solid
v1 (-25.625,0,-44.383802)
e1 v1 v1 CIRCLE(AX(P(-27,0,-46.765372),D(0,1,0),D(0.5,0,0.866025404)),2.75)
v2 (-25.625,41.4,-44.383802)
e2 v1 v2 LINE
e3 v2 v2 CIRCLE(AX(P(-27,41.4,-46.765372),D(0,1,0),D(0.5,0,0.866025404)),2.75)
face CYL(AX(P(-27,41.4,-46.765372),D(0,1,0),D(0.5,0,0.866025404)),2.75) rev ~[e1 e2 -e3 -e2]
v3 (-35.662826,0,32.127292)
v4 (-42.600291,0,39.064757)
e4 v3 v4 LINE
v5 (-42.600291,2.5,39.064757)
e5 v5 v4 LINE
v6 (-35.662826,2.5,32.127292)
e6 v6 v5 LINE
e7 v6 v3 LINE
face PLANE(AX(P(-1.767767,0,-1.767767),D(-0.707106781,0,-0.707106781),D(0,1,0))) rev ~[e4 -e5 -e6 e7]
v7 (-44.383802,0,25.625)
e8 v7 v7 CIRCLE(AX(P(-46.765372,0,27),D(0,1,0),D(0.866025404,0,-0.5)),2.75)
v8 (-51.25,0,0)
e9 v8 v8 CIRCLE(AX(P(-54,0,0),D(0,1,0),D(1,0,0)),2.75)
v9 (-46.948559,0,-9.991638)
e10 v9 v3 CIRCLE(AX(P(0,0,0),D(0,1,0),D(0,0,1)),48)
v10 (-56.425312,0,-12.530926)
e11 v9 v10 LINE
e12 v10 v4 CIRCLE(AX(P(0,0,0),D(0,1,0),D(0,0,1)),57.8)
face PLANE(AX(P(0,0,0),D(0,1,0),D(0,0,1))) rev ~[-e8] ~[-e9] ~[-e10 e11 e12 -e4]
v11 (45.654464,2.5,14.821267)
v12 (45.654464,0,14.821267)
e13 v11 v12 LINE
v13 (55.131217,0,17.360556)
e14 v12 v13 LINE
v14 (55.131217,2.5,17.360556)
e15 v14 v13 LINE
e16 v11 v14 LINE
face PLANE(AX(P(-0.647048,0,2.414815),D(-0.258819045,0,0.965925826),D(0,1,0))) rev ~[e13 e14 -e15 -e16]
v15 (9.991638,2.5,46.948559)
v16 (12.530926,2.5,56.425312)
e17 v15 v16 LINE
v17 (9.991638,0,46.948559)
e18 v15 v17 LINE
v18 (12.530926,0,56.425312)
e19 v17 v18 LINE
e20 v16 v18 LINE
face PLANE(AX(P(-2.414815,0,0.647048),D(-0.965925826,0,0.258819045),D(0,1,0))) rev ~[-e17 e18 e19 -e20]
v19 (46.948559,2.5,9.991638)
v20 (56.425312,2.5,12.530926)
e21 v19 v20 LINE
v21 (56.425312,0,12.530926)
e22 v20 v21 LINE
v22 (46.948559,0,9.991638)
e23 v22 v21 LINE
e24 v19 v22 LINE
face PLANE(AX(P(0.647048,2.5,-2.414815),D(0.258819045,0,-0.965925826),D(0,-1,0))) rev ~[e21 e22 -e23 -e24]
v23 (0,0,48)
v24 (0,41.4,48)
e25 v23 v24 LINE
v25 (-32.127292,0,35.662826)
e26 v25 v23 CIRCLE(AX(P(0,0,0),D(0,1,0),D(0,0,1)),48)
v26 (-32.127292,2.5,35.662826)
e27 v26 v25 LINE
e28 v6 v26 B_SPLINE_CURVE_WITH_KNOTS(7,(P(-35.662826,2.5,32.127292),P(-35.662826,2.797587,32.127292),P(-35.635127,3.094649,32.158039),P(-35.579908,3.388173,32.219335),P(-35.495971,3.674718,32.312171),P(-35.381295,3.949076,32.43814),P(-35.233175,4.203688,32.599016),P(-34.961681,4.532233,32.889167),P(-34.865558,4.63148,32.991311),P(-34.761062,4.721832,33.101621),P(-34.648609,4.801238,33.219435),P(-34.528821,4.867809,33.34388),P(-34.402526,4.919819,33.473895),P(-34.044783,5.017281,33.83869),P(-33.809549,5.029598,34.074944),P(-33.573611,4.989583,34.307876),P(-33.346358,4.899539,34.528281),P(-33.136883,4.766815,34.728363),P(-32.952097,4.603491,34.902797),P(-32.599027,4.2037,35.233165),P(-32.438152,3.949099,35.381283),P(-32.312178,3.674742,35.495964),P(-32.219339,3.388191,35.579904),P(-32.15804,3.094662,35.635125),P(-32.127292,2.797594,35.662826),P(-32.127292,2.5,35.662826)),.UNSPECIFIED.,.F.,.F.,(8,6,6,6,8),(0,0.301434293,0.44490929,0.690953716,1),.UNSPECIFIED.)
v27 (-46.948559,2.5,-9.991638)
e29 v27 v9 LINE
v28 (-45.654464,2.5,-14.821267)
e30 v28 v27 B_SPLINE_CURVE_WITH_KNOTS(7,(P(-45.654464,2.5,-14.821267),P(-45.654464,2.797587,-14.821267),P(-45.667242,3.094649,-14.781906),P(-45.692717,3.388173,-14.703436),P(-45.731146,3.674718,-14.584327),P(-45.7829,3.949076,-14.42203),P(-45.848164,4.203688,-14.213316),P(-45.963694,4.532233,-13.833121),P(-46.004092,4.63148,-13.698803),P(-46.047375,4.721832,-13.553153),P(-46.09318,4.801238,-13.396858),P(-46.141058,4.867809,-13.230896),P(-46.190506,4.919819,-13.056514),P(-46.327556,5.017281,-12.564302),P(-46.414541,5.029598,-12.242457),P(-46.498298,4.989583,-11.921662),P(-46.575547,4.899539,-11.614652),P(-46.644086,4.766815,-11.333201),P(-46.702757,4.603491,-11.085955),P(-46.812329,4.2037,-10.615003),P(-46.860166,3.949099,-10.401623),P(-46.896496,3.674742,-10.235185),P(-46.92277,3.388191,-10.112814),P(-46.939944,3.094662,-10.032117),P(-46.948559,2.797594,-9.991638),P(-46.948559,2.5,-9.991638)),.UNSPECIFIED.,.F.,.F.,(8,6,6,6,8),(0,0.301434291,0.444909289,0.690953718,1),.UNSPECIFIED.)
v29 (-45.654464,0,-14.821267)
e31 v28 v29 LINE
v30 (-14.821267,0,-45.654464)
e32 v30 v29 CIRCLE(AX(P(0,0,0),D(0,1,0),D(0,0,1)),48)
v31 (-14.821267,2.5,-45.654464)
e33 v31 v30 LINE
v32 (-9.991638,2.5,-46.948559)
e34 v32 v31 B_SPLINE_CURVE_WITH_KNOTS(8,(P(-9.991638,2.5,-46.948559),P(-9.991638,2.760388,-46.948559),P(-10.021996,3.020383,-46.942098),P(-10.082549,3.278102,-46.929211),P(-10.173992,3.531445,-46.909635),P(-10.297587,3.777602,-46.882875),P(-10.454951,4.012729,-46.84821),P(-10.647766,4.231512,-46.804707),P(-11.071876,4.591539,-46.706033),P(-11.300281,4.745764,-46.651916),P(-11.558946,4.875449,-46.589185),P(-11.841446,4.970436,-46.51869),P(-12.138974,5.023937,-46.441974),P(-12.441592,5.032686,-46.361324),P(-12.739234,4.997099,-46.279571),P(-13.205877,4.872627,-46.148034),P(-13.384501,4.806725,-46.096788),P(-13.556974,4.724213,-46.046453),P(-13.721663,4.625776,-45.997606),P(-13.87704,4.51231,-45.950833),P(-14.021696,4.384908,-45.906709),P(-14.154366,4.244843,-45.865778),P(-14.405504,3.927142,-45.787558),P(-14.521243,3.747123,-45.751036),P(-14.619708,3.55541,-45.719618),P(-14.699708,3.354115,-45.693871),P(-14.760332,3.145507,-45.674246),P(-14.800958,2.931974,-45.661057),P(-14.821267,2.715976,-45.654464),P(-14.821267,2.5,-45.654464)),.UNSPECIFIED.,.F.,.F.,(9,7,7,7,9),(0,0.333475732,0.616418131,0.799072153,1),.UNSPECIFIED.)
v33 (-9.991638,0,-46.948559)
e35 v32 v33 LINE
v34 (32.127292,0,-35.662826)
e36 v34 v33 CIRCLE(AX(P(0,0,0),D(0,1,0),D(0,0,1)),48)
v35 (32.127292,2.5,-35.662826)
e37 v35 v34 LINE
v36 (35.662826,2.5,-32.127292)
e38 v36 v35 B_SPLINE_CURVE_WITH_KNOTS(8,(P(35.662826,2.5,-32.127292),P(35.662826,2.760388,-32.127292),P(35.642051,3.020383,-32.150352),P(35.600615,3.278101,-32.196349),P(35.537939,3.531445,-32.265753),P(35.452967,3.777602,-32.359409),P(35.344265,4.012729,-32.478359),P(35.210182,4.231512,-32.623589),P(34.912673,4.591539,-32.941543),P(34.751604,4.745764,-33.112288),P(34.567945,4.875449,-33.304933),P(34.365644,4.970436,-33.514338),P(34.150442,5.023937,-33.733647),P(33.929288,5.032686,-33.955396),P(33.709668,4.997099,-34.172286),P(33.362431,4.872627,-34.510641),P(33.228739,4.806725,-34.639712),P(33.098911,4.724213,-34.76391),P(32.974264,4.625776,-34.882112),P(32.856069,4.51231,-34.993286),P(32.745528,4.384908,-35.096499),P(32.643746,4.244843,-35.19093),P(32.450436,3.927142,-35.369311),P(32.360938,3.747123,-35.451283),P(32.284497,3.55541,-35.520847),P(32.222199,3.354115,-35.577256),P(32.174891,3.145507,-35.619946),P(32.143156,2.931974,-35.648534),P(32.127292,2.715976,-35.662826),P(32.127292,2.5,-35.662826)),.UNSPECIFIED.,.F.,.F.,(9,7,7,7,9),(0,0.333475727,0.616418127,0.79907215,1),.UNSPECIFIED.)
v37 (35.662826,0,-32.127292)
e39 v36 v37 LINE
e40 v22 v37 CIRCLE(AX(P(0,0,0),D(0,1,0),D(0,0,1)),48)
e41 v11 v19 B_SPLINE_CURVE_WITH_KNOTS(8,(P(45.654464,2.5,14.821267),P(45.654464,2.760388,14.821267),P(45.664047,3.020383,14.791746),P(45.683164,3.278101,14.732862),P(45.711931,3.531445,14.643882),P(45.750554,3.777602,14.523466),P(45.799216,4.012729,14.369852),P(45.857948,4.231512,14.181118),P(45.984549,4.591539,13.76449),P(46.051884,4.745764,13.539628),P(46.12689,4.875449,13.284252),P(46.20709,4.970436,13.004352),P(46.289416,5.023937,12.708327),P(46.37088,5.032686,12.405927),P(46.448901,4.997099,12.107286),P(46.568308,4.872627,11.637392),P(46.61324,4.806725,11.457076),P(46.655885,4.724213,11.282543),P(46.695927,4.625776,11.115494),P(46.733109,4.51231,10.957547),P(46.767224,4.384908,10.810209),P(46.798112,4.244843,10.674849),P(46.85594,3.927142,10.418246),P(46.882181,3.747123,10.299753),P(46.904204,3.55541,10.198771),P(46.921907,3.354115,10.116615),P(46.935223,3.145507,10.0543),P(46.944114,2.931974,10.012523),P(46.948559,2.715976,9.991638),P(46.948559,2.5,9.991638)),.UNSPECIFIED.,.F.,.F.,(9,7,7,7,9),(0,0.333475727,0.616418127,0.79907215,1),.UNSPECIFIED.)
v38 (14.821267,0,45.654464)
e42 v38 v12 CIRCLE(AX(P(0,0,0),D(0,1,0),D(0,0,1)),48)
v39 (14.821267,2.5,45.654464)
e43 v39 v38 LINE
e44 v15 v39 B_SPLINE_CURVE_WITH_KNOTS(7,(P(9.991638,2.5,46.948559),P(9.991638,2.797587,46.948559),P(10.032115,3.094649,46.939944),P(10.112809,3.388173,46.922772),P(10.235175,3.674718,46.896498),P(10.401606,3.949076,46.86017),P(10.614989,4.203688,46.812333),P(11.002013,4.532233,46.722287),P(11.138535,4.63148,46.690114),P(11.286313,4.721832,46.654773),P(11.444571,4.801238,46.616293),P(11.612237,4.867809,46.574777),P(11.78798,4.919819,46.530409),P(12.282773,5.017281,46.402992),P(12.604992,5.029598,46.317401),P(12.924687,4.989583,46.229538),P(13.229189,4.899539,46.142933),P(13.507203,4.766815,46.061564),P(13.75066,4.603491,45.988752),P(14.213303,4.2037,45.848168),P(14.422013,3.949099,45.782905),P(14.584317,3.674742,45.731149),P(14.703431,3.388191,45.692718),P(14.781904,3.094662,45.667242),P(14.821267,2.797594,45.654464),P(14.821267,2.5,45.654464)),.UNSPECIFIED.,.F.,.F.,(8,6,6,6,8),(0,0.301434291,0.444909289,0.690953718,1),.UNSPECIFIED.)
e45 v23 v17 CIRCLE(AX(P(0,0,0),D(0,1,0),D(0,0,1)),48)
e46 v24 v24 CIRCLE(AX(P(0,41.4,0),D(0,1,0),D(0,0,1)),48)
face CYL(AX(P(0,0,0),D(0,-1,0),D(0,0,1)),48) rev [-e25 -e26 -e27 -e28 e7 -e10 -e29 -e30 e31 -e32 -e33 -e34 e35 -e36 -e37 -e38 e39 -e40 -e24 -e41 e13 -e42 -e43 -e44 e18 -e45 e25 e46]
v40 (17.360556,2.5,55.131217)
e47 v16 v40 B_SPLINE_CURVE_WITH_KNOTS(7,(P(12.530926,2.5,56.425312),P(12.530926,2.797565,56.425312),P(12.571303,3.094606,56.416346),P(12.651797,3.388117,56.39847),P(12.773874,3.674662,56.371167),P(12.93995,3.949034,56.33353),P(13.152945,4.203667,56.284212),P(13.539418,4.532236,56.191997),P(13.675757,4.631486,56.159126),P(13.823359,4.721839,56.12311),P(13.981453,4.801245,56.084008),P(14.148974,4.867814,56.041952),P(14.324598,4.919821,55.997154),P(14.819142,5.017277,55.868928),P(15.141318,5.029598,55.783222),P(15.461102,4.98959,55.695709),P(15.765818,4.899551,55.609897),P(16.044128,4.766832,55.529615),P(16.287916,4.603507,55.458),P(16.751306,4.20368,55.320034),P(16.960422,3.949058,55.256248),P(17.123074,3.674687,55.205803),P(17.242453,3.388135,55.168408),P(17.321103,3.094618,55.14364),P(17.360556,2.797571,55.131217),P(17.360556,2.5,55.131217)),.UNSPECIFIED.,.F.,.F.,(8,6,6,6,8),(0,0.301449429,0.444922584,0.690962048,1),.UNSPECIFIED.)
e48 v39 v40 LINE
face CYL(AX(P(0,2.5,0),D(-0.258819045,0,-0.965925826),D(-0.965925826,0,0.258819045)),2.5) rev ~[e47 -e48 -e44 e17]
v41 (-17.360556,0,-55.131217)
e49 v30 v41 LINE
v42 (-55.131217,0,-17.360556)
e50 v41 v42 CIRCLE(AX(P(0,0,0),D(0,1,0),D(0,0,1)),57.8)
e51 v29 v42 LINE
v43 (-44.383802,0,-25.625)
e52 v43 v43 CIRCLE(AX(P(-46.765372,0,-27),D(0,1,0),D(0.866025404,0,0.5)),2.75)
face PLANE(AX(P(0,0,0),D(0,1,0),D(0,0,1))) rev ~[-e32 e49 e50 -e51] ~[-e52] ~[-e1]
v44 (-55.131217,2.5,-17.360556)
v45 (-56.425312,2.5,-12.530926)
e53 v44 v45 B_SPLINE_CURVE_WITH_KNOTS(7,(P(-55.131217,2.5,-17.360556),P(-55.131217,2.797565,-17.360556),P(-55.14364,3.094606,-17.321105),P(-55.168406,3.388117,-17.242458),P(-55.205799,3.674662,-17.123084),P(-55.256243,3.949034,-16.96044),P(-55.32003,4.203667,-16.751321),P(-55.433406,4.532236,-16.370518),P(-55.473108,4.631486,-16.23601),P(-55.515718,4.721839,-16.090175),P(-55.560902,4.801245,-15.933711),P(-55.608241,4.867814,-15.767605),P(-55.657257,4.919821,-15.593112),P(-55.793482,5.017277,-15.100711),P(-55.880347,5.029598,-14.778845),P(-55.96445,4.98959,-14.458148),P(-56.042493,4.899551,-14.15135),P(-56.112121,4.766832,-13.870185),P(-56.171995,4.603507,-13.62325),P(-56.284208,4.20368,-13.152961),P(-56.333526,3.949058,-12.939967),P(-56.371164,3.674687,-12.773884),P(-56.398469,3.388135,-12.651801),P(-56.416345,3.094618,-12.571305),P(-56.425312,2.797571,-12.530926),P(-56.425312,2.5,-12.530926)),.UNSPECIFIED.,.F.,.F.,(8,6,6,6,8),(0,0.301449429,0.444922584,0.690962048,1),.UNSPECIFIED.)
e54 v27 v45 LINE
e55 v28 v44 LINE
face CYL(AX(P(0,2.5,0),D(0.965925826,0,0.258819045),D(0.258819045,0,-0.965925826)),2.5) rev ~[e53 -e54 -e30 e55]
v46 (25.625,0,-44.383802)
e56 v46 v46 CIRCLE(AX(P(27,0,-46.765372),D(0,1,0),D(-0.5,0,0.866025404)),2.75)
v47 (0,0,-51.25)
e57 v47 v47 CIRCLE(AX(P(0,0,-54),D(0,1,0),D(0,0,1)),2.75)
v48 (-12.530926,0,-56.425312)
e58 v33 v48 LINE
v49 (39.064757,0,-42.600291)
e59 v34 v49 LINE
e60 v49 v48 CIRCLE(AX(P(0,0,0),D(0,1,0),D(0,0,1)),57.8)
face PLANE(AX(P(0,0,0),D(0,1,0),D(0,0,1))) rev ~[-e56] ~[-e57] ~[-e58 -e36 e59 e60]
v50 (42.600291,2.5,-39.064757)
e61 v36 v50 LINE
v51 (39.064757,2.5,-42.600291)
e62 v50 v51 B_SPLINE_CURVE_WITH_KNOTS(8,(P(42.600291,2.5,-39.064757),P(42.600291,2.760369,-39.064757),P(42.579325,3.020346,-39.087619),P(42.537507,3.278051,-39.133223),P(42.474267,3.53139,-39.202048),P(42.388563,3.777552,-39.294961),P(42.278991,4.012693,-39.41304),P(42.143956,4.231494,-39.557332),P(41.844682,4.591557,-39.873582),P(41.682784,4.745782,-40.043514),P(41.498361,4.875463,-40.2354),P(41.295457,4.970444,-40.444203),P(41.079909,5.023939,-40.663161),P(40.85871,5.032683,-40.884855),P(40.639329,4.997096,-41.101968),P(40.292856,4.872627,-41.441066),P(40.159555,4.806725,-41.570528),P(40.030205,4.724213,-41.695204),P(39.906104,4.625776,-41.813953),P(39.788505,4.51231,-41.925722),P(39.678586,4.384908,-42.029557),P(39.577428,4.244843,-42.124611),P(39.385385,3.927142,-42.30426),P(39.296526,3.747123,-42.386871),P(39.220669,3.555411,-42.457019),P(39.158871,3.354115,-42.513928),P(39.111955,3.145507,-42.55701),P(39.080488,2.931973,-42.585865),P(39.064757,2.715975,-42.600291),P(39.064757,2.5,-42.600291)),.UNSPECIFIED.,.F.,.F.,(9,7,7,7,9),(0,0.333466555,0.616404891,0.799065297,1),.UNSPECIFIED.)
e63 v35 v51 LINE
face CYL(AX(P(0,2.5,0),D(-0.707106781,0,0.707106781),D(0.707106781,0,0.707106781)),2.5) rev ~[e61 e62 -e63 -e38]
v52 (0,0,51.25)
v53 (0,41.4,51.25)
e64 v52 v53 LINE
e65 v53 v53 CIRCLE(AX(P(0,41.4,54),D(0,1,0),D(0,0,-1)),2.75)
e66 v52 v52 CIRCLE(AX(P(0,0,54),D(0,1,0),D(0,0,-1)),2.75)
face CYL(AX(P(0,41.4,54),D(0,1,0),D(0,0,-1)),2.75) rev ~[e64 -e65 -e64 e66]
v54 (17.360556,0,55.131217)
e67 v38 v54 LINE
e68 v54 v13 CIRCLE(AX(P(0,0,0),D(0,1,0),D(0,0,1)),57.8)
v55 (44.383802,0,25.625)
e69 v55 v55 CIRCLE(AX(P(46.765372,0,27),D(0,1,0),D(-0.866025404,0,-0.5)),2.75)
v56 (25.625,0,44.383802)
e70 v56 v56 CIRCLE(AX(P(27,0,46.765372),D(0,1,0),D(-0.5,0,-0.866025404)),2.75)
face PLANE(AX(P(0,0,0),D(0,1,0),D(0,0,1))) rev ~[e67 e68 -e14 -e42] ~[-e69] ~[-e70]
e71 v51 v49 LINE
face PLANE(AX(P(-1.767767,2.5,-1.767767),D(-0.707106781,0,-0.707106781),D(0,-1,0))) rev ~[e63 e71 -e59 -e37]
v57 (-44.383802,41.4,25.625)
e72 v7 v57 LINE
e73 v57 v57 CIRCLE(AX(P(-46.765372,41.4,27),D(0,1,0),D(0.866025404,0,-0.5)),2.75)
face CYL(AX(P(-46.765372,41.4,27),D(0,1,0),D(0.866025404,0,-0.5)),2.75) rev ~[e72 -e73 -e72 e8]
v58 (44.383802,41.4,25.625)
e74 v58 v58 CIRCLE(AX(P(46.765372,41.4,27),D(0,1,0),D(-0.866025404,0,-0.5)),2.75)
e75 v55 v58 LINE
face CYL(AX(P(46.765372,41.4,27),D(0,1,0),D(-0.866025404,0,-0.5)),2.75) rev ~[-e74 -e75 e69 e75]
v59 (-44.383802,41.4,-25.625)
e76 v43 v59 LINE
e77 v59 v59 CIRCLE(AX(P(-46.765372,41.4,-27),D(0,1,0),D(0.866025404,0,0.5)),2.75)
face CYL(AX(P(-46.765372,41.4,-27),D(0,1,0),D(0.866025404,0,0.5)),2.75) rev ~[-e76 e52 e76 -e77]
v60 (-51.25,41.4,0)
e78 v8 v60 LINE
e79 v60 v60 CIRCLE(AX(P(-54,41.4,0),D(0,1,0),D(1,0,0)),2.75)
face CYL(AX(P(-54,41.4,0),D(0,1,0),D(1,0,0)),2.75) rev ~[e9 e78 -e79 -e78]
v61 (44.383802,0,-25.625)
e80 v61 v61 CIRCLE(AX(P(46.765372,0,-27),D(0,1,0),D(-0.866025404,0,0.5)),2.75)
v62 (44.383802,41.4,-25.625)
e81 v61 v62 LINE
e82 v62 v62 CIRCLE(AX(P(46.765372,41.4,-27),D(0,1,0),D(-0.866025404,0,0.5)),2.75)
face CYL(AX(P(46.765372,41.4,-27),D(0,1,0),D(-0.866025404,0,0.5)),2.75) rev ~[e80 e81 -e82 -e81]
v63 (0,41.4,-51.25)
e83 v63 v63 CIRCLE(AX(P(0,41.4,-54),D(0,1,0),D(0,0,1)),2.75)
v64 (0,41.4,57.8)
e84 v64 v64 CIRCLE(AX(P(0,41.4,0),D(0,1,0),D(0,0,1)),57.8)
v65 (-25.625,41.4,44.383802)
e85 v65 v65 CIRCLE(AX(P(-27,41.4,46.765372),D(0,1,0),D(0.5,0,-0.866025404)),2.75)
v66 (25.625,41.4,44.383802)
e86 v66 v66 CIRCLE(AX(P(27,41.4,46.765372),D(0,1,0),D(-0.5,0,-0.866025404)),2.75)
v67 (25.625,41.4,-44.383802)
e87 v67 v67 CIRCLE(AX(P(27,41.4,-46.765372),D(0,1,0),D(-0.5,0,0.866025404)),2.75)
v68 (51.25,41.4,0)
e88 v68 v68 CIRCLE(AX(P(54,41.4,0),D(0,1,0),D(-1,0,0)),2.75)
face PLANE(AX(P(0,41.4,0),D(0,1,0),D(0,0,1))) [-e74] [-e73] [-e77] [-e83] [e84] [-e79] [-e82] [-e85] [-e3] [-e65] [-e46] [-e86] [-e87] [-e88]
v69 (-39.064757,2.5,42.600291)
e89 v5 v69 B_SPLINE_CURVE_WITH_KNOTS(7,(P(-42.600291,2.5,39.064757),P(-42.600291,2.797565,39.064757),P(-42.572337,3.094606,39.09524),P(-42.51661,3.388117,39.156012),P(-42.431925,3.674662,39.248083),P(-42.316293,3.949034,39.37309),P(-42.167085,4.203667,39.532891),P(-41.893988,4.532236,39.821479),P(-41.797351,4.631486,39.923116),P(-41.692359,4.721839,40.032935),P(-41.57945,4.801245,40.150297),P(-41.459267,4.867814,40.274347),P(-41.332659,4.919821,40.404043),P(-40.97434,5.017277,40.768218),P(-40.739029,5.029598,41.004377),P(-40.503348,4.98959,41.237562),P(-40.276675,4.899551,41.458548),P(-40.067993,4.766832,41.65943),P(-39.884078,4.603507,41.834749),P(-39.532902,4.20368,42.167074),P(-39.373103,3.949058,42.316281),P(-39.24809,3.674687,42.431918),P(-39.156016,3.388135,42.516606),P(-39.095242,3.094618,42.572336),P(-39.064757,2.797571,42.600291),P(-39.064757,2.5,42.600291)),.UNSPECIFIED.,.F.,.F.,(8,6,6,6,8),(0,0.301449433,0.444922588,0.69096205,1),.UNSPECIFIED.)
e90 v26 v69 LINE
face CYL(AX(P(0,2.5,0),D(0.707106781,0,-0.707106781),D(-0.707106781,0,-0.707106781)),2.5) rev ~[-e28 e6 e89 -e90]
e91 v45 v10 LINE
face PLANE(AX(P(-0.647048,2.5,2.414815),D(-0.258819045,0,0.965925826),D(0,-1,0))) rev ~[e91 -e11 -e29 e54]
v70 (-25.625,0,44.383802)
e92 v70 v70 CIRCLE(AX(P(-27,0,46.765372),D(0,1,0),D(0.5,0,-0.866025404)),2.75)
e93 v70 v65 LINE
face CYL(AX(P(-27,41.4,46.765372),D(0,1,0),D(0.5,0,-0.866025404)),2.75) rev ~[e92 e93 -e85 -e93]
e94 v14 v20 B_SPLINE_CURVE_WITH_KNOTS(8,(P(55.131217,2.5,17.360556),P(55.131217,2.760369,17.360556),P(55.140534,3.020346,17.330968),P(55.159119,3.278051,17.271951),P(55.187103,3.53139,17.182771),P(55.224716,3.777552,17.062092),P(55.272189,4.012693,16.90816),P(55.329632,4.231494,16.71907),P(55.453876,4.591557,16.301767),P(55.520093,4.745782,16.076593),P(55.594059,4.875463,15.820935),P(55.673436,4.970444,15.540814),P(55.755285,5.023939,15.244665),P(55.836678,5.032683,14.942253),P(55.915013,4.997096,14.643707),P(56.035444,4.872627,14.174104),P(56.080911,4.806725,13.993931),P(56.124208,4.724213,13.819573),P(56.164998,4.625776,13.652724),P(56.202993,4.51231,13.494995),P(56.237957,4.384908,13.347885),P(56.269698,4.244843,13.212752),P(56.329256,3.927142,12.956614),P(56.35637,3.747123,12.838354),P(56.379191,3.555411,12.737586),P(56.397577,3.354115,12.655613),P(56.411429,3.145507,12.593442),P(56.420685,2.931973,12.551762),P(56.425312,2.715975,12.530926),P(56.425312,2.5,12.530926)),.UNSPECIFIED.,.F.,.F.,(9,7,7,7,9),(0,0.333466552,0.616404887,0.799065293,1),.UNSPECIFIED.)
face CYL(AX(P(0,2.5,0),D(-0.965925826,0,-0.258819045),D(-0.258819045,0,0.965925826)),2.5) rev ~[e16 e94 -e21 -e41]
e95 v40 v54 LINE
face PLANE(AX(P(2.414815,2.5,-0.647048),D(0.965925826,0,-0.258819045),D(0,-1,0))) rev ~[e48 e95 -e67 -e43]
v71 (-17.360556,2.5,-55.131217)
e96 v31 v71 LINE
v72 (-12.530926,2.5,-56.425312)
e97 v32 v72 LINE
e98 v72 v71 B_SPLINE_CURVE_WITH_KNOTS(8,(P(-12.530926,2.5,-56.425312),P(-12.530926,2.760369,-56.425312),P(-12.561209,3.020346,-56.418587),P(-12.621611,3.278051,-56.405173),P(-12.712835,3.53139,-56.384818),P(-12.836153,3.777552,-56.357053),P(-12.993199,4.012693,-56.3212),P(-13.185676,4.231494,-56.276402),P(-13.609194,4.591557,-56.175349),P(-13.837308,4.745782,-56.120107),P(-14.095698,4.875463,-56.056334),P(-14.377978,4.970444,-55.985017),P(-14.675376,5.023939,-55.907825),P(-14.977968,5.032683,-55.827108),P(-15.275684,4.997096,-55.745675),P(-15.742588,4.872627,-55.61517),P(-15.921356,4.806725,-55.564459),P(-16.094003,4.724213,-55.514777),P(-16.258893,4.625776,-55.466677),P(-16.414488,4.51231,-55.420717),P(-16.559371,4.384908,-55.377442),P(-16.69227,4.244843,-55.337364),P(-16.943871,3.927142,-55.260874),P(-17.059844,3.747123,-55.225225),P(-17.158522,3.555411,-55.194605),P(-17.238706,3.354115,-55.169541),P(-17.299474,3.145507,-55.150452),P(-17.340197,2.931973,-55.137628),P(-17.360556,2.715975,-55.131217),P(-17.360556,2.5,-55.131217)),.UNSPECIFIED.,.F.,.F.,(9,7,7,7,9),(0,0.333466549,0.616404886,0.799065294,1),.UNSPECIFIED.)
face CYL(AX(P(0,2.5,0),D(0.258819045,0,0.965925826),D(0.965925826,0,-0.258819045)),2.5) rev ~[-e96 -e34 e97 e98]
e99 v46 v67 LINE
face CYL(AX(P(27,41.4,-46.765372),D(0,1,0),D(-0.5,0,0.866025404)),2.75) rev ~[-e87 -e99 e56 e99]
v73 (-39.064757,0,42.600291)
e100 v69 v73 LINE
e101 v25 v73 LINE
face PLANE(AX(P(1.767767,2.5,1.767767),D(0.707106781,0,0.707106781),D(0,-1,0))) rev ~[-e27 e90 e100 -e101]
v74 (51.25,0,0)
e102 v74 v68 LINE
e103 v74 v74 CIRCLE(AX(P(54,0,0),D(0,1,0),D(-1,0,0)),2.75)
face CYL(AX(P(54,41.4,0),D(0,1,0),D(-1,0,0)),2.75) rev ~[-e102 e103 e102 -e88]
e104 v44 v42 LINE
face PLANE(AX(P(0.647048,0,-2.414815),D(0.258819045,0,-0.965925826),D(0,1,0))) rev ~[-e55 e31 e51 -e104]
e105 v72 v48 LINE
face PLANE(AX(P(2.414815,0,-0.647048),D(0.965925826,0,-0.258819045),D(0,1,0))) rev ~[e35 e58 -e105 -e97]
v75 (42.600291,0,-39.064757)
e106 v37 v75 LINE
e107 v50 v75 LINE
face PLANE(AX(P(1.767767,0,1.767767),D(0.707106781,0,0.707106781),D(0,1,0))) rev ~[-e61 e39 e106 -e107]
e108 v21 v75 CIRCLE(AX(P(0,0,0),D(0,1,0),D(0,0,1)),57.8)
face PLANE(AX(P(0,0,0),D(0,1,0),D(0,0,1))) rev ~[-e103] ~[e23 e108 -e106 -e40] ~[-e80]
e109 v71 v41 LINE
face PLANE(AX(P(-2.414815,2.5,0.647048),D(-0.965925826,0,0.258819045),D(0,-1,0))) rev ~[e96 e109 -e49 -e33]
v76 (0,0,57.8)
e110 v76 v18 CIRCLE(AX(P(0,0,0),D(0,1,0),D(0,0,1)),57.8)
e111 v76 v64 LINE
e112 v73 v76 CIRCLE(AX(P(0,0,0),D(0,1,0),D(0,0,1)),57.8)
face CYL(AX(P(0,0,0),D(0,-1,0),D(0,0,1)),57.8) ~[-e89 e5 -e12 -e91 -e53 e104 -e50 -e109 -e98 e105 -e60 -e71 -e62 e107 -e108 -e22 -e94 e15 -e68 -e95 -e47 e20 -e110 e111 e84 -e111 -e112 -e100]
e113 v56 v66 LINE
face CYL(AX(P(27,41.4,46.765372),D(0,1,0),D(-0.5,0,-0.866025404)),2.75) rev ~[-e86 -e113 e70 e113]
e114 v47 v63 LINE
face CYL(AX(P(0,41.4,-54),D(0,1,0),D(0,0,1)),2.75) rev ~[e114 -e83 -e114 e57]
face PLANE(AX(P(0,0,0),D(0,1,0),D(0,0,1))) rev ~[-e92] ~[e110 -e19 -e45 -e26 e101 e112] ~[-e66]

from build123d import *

# Parameters (mm, degrees)
SKETCH_1_R               = 57.8
SKETCH_1_R_2             = 48
EXTRUDE_1_DEPTH          = 41.4
SKETCH_2_R               = 2.75
CUT_EXTRUDE_1_DEPTH      = 92.627725062
PATTERN_CIRCULAR_1_COUNT = 12
SKETCH_3_R               = 2.5
CUT_EXTRUDE_2_DEPTH      = 92.627725062
PATTERN_CIRCULAR_2_COUNT = 6


with BuildPart() as part:
    # 草图1 → 凸台-拉伸1 (new body)
    with BuildSketch(Plane(origin=(0, 0, 0), x_dir=(1, 0, 0), z_dir=(0, 1, 0))):
        with Locations(Location((0, 0, 0), (0, 0, 270))):
            Circle(SKETCH_1_R)
        with Locations(Location((0, 0, 0), (0, 0, 270))):
            Circle(SKETCH_1_R_2, mode=Mode.SUBTRACT)
    extrude(amount=EXTRUDE_1_DEPTH)

    # 草图2 → 切除-拉伸1 (cut, symmetric)
    with BuildSketch(Plane(origin=(0, 41.4, 0), x_dir=(1, 0, 0), z_dir=(0, 1, 0))):
        with Locations(Location((0, 54, 0), (0, 0, 270))):
            Circle(SKETCH_2_R)
    cut_extrude_1 = extrude(amount=CUT_EXTRUDE_1_DEPTH, both=True, mode=Mode.SUBTRACT)

    # 阵列(圆周)1: 切除-拉伸1 ×12 about axis
    pattern_circular_1_axis = Axis((0, 0, 0), (0, 1, 0))
    for i in range(1, PATTERN_CIRCULAR_1_COUNT):
        add(cut_extrude_1.rotate(pattern_circular_1_axis, i * 360 / PATTERN_CIRCULAR_1_COUNT), mode=Mode.SUBTRACT)

    # 草图3 → 切除-拉伸2 (cut, through all)
    with BuildSketch(Plane(origin=(0, 0, 0), x_dir=(0.7071067811865477, 0, 0.7071067811865475), z_dir=(-0.7071067811865475, 0, 0.7071067811865477))):
        with Locations((0, 2.5)):
            Circle(SKETCH_3_R)
        with BuildLine():
            Line((2.5, 0), (2.5, 2.5))
            ThreePointArc((2.5, 2.5), (1.767766953, 0.732233047), (0, 0))
            Line((0, 0), (2.5, 0))
        make_face()
        with BuildLine():
            ThreePointArc((0, 0), (-1.767766953, 0.732233047), (-2.5, 2.5))
            Line((-2.5, 2.5), (-2.5, 0))
            Line((-2.5, 0), (0, 0))
        make_face()
    cut_extrude_2 = extrude(amount=-CUT_EXTRUDE_2_DEPTH, mode=Mode.SUBTRACT)

    # 阵列(圆周)2: 切除-拉伸2 ×6 about axis
    pattern_circular_2_axis = Axis((0, 0, 0), (0, 1, 0))
    for i in range(1, PATTERN_CIRCULAR_2_COUNT):
        add(cut_extrude_2.rotate(pattern_circular_2_axis, i * 360 / PATTERN_CIRCULAR_2_COUNT), mode=Mode.SUBTRACT)


solid = part.part
